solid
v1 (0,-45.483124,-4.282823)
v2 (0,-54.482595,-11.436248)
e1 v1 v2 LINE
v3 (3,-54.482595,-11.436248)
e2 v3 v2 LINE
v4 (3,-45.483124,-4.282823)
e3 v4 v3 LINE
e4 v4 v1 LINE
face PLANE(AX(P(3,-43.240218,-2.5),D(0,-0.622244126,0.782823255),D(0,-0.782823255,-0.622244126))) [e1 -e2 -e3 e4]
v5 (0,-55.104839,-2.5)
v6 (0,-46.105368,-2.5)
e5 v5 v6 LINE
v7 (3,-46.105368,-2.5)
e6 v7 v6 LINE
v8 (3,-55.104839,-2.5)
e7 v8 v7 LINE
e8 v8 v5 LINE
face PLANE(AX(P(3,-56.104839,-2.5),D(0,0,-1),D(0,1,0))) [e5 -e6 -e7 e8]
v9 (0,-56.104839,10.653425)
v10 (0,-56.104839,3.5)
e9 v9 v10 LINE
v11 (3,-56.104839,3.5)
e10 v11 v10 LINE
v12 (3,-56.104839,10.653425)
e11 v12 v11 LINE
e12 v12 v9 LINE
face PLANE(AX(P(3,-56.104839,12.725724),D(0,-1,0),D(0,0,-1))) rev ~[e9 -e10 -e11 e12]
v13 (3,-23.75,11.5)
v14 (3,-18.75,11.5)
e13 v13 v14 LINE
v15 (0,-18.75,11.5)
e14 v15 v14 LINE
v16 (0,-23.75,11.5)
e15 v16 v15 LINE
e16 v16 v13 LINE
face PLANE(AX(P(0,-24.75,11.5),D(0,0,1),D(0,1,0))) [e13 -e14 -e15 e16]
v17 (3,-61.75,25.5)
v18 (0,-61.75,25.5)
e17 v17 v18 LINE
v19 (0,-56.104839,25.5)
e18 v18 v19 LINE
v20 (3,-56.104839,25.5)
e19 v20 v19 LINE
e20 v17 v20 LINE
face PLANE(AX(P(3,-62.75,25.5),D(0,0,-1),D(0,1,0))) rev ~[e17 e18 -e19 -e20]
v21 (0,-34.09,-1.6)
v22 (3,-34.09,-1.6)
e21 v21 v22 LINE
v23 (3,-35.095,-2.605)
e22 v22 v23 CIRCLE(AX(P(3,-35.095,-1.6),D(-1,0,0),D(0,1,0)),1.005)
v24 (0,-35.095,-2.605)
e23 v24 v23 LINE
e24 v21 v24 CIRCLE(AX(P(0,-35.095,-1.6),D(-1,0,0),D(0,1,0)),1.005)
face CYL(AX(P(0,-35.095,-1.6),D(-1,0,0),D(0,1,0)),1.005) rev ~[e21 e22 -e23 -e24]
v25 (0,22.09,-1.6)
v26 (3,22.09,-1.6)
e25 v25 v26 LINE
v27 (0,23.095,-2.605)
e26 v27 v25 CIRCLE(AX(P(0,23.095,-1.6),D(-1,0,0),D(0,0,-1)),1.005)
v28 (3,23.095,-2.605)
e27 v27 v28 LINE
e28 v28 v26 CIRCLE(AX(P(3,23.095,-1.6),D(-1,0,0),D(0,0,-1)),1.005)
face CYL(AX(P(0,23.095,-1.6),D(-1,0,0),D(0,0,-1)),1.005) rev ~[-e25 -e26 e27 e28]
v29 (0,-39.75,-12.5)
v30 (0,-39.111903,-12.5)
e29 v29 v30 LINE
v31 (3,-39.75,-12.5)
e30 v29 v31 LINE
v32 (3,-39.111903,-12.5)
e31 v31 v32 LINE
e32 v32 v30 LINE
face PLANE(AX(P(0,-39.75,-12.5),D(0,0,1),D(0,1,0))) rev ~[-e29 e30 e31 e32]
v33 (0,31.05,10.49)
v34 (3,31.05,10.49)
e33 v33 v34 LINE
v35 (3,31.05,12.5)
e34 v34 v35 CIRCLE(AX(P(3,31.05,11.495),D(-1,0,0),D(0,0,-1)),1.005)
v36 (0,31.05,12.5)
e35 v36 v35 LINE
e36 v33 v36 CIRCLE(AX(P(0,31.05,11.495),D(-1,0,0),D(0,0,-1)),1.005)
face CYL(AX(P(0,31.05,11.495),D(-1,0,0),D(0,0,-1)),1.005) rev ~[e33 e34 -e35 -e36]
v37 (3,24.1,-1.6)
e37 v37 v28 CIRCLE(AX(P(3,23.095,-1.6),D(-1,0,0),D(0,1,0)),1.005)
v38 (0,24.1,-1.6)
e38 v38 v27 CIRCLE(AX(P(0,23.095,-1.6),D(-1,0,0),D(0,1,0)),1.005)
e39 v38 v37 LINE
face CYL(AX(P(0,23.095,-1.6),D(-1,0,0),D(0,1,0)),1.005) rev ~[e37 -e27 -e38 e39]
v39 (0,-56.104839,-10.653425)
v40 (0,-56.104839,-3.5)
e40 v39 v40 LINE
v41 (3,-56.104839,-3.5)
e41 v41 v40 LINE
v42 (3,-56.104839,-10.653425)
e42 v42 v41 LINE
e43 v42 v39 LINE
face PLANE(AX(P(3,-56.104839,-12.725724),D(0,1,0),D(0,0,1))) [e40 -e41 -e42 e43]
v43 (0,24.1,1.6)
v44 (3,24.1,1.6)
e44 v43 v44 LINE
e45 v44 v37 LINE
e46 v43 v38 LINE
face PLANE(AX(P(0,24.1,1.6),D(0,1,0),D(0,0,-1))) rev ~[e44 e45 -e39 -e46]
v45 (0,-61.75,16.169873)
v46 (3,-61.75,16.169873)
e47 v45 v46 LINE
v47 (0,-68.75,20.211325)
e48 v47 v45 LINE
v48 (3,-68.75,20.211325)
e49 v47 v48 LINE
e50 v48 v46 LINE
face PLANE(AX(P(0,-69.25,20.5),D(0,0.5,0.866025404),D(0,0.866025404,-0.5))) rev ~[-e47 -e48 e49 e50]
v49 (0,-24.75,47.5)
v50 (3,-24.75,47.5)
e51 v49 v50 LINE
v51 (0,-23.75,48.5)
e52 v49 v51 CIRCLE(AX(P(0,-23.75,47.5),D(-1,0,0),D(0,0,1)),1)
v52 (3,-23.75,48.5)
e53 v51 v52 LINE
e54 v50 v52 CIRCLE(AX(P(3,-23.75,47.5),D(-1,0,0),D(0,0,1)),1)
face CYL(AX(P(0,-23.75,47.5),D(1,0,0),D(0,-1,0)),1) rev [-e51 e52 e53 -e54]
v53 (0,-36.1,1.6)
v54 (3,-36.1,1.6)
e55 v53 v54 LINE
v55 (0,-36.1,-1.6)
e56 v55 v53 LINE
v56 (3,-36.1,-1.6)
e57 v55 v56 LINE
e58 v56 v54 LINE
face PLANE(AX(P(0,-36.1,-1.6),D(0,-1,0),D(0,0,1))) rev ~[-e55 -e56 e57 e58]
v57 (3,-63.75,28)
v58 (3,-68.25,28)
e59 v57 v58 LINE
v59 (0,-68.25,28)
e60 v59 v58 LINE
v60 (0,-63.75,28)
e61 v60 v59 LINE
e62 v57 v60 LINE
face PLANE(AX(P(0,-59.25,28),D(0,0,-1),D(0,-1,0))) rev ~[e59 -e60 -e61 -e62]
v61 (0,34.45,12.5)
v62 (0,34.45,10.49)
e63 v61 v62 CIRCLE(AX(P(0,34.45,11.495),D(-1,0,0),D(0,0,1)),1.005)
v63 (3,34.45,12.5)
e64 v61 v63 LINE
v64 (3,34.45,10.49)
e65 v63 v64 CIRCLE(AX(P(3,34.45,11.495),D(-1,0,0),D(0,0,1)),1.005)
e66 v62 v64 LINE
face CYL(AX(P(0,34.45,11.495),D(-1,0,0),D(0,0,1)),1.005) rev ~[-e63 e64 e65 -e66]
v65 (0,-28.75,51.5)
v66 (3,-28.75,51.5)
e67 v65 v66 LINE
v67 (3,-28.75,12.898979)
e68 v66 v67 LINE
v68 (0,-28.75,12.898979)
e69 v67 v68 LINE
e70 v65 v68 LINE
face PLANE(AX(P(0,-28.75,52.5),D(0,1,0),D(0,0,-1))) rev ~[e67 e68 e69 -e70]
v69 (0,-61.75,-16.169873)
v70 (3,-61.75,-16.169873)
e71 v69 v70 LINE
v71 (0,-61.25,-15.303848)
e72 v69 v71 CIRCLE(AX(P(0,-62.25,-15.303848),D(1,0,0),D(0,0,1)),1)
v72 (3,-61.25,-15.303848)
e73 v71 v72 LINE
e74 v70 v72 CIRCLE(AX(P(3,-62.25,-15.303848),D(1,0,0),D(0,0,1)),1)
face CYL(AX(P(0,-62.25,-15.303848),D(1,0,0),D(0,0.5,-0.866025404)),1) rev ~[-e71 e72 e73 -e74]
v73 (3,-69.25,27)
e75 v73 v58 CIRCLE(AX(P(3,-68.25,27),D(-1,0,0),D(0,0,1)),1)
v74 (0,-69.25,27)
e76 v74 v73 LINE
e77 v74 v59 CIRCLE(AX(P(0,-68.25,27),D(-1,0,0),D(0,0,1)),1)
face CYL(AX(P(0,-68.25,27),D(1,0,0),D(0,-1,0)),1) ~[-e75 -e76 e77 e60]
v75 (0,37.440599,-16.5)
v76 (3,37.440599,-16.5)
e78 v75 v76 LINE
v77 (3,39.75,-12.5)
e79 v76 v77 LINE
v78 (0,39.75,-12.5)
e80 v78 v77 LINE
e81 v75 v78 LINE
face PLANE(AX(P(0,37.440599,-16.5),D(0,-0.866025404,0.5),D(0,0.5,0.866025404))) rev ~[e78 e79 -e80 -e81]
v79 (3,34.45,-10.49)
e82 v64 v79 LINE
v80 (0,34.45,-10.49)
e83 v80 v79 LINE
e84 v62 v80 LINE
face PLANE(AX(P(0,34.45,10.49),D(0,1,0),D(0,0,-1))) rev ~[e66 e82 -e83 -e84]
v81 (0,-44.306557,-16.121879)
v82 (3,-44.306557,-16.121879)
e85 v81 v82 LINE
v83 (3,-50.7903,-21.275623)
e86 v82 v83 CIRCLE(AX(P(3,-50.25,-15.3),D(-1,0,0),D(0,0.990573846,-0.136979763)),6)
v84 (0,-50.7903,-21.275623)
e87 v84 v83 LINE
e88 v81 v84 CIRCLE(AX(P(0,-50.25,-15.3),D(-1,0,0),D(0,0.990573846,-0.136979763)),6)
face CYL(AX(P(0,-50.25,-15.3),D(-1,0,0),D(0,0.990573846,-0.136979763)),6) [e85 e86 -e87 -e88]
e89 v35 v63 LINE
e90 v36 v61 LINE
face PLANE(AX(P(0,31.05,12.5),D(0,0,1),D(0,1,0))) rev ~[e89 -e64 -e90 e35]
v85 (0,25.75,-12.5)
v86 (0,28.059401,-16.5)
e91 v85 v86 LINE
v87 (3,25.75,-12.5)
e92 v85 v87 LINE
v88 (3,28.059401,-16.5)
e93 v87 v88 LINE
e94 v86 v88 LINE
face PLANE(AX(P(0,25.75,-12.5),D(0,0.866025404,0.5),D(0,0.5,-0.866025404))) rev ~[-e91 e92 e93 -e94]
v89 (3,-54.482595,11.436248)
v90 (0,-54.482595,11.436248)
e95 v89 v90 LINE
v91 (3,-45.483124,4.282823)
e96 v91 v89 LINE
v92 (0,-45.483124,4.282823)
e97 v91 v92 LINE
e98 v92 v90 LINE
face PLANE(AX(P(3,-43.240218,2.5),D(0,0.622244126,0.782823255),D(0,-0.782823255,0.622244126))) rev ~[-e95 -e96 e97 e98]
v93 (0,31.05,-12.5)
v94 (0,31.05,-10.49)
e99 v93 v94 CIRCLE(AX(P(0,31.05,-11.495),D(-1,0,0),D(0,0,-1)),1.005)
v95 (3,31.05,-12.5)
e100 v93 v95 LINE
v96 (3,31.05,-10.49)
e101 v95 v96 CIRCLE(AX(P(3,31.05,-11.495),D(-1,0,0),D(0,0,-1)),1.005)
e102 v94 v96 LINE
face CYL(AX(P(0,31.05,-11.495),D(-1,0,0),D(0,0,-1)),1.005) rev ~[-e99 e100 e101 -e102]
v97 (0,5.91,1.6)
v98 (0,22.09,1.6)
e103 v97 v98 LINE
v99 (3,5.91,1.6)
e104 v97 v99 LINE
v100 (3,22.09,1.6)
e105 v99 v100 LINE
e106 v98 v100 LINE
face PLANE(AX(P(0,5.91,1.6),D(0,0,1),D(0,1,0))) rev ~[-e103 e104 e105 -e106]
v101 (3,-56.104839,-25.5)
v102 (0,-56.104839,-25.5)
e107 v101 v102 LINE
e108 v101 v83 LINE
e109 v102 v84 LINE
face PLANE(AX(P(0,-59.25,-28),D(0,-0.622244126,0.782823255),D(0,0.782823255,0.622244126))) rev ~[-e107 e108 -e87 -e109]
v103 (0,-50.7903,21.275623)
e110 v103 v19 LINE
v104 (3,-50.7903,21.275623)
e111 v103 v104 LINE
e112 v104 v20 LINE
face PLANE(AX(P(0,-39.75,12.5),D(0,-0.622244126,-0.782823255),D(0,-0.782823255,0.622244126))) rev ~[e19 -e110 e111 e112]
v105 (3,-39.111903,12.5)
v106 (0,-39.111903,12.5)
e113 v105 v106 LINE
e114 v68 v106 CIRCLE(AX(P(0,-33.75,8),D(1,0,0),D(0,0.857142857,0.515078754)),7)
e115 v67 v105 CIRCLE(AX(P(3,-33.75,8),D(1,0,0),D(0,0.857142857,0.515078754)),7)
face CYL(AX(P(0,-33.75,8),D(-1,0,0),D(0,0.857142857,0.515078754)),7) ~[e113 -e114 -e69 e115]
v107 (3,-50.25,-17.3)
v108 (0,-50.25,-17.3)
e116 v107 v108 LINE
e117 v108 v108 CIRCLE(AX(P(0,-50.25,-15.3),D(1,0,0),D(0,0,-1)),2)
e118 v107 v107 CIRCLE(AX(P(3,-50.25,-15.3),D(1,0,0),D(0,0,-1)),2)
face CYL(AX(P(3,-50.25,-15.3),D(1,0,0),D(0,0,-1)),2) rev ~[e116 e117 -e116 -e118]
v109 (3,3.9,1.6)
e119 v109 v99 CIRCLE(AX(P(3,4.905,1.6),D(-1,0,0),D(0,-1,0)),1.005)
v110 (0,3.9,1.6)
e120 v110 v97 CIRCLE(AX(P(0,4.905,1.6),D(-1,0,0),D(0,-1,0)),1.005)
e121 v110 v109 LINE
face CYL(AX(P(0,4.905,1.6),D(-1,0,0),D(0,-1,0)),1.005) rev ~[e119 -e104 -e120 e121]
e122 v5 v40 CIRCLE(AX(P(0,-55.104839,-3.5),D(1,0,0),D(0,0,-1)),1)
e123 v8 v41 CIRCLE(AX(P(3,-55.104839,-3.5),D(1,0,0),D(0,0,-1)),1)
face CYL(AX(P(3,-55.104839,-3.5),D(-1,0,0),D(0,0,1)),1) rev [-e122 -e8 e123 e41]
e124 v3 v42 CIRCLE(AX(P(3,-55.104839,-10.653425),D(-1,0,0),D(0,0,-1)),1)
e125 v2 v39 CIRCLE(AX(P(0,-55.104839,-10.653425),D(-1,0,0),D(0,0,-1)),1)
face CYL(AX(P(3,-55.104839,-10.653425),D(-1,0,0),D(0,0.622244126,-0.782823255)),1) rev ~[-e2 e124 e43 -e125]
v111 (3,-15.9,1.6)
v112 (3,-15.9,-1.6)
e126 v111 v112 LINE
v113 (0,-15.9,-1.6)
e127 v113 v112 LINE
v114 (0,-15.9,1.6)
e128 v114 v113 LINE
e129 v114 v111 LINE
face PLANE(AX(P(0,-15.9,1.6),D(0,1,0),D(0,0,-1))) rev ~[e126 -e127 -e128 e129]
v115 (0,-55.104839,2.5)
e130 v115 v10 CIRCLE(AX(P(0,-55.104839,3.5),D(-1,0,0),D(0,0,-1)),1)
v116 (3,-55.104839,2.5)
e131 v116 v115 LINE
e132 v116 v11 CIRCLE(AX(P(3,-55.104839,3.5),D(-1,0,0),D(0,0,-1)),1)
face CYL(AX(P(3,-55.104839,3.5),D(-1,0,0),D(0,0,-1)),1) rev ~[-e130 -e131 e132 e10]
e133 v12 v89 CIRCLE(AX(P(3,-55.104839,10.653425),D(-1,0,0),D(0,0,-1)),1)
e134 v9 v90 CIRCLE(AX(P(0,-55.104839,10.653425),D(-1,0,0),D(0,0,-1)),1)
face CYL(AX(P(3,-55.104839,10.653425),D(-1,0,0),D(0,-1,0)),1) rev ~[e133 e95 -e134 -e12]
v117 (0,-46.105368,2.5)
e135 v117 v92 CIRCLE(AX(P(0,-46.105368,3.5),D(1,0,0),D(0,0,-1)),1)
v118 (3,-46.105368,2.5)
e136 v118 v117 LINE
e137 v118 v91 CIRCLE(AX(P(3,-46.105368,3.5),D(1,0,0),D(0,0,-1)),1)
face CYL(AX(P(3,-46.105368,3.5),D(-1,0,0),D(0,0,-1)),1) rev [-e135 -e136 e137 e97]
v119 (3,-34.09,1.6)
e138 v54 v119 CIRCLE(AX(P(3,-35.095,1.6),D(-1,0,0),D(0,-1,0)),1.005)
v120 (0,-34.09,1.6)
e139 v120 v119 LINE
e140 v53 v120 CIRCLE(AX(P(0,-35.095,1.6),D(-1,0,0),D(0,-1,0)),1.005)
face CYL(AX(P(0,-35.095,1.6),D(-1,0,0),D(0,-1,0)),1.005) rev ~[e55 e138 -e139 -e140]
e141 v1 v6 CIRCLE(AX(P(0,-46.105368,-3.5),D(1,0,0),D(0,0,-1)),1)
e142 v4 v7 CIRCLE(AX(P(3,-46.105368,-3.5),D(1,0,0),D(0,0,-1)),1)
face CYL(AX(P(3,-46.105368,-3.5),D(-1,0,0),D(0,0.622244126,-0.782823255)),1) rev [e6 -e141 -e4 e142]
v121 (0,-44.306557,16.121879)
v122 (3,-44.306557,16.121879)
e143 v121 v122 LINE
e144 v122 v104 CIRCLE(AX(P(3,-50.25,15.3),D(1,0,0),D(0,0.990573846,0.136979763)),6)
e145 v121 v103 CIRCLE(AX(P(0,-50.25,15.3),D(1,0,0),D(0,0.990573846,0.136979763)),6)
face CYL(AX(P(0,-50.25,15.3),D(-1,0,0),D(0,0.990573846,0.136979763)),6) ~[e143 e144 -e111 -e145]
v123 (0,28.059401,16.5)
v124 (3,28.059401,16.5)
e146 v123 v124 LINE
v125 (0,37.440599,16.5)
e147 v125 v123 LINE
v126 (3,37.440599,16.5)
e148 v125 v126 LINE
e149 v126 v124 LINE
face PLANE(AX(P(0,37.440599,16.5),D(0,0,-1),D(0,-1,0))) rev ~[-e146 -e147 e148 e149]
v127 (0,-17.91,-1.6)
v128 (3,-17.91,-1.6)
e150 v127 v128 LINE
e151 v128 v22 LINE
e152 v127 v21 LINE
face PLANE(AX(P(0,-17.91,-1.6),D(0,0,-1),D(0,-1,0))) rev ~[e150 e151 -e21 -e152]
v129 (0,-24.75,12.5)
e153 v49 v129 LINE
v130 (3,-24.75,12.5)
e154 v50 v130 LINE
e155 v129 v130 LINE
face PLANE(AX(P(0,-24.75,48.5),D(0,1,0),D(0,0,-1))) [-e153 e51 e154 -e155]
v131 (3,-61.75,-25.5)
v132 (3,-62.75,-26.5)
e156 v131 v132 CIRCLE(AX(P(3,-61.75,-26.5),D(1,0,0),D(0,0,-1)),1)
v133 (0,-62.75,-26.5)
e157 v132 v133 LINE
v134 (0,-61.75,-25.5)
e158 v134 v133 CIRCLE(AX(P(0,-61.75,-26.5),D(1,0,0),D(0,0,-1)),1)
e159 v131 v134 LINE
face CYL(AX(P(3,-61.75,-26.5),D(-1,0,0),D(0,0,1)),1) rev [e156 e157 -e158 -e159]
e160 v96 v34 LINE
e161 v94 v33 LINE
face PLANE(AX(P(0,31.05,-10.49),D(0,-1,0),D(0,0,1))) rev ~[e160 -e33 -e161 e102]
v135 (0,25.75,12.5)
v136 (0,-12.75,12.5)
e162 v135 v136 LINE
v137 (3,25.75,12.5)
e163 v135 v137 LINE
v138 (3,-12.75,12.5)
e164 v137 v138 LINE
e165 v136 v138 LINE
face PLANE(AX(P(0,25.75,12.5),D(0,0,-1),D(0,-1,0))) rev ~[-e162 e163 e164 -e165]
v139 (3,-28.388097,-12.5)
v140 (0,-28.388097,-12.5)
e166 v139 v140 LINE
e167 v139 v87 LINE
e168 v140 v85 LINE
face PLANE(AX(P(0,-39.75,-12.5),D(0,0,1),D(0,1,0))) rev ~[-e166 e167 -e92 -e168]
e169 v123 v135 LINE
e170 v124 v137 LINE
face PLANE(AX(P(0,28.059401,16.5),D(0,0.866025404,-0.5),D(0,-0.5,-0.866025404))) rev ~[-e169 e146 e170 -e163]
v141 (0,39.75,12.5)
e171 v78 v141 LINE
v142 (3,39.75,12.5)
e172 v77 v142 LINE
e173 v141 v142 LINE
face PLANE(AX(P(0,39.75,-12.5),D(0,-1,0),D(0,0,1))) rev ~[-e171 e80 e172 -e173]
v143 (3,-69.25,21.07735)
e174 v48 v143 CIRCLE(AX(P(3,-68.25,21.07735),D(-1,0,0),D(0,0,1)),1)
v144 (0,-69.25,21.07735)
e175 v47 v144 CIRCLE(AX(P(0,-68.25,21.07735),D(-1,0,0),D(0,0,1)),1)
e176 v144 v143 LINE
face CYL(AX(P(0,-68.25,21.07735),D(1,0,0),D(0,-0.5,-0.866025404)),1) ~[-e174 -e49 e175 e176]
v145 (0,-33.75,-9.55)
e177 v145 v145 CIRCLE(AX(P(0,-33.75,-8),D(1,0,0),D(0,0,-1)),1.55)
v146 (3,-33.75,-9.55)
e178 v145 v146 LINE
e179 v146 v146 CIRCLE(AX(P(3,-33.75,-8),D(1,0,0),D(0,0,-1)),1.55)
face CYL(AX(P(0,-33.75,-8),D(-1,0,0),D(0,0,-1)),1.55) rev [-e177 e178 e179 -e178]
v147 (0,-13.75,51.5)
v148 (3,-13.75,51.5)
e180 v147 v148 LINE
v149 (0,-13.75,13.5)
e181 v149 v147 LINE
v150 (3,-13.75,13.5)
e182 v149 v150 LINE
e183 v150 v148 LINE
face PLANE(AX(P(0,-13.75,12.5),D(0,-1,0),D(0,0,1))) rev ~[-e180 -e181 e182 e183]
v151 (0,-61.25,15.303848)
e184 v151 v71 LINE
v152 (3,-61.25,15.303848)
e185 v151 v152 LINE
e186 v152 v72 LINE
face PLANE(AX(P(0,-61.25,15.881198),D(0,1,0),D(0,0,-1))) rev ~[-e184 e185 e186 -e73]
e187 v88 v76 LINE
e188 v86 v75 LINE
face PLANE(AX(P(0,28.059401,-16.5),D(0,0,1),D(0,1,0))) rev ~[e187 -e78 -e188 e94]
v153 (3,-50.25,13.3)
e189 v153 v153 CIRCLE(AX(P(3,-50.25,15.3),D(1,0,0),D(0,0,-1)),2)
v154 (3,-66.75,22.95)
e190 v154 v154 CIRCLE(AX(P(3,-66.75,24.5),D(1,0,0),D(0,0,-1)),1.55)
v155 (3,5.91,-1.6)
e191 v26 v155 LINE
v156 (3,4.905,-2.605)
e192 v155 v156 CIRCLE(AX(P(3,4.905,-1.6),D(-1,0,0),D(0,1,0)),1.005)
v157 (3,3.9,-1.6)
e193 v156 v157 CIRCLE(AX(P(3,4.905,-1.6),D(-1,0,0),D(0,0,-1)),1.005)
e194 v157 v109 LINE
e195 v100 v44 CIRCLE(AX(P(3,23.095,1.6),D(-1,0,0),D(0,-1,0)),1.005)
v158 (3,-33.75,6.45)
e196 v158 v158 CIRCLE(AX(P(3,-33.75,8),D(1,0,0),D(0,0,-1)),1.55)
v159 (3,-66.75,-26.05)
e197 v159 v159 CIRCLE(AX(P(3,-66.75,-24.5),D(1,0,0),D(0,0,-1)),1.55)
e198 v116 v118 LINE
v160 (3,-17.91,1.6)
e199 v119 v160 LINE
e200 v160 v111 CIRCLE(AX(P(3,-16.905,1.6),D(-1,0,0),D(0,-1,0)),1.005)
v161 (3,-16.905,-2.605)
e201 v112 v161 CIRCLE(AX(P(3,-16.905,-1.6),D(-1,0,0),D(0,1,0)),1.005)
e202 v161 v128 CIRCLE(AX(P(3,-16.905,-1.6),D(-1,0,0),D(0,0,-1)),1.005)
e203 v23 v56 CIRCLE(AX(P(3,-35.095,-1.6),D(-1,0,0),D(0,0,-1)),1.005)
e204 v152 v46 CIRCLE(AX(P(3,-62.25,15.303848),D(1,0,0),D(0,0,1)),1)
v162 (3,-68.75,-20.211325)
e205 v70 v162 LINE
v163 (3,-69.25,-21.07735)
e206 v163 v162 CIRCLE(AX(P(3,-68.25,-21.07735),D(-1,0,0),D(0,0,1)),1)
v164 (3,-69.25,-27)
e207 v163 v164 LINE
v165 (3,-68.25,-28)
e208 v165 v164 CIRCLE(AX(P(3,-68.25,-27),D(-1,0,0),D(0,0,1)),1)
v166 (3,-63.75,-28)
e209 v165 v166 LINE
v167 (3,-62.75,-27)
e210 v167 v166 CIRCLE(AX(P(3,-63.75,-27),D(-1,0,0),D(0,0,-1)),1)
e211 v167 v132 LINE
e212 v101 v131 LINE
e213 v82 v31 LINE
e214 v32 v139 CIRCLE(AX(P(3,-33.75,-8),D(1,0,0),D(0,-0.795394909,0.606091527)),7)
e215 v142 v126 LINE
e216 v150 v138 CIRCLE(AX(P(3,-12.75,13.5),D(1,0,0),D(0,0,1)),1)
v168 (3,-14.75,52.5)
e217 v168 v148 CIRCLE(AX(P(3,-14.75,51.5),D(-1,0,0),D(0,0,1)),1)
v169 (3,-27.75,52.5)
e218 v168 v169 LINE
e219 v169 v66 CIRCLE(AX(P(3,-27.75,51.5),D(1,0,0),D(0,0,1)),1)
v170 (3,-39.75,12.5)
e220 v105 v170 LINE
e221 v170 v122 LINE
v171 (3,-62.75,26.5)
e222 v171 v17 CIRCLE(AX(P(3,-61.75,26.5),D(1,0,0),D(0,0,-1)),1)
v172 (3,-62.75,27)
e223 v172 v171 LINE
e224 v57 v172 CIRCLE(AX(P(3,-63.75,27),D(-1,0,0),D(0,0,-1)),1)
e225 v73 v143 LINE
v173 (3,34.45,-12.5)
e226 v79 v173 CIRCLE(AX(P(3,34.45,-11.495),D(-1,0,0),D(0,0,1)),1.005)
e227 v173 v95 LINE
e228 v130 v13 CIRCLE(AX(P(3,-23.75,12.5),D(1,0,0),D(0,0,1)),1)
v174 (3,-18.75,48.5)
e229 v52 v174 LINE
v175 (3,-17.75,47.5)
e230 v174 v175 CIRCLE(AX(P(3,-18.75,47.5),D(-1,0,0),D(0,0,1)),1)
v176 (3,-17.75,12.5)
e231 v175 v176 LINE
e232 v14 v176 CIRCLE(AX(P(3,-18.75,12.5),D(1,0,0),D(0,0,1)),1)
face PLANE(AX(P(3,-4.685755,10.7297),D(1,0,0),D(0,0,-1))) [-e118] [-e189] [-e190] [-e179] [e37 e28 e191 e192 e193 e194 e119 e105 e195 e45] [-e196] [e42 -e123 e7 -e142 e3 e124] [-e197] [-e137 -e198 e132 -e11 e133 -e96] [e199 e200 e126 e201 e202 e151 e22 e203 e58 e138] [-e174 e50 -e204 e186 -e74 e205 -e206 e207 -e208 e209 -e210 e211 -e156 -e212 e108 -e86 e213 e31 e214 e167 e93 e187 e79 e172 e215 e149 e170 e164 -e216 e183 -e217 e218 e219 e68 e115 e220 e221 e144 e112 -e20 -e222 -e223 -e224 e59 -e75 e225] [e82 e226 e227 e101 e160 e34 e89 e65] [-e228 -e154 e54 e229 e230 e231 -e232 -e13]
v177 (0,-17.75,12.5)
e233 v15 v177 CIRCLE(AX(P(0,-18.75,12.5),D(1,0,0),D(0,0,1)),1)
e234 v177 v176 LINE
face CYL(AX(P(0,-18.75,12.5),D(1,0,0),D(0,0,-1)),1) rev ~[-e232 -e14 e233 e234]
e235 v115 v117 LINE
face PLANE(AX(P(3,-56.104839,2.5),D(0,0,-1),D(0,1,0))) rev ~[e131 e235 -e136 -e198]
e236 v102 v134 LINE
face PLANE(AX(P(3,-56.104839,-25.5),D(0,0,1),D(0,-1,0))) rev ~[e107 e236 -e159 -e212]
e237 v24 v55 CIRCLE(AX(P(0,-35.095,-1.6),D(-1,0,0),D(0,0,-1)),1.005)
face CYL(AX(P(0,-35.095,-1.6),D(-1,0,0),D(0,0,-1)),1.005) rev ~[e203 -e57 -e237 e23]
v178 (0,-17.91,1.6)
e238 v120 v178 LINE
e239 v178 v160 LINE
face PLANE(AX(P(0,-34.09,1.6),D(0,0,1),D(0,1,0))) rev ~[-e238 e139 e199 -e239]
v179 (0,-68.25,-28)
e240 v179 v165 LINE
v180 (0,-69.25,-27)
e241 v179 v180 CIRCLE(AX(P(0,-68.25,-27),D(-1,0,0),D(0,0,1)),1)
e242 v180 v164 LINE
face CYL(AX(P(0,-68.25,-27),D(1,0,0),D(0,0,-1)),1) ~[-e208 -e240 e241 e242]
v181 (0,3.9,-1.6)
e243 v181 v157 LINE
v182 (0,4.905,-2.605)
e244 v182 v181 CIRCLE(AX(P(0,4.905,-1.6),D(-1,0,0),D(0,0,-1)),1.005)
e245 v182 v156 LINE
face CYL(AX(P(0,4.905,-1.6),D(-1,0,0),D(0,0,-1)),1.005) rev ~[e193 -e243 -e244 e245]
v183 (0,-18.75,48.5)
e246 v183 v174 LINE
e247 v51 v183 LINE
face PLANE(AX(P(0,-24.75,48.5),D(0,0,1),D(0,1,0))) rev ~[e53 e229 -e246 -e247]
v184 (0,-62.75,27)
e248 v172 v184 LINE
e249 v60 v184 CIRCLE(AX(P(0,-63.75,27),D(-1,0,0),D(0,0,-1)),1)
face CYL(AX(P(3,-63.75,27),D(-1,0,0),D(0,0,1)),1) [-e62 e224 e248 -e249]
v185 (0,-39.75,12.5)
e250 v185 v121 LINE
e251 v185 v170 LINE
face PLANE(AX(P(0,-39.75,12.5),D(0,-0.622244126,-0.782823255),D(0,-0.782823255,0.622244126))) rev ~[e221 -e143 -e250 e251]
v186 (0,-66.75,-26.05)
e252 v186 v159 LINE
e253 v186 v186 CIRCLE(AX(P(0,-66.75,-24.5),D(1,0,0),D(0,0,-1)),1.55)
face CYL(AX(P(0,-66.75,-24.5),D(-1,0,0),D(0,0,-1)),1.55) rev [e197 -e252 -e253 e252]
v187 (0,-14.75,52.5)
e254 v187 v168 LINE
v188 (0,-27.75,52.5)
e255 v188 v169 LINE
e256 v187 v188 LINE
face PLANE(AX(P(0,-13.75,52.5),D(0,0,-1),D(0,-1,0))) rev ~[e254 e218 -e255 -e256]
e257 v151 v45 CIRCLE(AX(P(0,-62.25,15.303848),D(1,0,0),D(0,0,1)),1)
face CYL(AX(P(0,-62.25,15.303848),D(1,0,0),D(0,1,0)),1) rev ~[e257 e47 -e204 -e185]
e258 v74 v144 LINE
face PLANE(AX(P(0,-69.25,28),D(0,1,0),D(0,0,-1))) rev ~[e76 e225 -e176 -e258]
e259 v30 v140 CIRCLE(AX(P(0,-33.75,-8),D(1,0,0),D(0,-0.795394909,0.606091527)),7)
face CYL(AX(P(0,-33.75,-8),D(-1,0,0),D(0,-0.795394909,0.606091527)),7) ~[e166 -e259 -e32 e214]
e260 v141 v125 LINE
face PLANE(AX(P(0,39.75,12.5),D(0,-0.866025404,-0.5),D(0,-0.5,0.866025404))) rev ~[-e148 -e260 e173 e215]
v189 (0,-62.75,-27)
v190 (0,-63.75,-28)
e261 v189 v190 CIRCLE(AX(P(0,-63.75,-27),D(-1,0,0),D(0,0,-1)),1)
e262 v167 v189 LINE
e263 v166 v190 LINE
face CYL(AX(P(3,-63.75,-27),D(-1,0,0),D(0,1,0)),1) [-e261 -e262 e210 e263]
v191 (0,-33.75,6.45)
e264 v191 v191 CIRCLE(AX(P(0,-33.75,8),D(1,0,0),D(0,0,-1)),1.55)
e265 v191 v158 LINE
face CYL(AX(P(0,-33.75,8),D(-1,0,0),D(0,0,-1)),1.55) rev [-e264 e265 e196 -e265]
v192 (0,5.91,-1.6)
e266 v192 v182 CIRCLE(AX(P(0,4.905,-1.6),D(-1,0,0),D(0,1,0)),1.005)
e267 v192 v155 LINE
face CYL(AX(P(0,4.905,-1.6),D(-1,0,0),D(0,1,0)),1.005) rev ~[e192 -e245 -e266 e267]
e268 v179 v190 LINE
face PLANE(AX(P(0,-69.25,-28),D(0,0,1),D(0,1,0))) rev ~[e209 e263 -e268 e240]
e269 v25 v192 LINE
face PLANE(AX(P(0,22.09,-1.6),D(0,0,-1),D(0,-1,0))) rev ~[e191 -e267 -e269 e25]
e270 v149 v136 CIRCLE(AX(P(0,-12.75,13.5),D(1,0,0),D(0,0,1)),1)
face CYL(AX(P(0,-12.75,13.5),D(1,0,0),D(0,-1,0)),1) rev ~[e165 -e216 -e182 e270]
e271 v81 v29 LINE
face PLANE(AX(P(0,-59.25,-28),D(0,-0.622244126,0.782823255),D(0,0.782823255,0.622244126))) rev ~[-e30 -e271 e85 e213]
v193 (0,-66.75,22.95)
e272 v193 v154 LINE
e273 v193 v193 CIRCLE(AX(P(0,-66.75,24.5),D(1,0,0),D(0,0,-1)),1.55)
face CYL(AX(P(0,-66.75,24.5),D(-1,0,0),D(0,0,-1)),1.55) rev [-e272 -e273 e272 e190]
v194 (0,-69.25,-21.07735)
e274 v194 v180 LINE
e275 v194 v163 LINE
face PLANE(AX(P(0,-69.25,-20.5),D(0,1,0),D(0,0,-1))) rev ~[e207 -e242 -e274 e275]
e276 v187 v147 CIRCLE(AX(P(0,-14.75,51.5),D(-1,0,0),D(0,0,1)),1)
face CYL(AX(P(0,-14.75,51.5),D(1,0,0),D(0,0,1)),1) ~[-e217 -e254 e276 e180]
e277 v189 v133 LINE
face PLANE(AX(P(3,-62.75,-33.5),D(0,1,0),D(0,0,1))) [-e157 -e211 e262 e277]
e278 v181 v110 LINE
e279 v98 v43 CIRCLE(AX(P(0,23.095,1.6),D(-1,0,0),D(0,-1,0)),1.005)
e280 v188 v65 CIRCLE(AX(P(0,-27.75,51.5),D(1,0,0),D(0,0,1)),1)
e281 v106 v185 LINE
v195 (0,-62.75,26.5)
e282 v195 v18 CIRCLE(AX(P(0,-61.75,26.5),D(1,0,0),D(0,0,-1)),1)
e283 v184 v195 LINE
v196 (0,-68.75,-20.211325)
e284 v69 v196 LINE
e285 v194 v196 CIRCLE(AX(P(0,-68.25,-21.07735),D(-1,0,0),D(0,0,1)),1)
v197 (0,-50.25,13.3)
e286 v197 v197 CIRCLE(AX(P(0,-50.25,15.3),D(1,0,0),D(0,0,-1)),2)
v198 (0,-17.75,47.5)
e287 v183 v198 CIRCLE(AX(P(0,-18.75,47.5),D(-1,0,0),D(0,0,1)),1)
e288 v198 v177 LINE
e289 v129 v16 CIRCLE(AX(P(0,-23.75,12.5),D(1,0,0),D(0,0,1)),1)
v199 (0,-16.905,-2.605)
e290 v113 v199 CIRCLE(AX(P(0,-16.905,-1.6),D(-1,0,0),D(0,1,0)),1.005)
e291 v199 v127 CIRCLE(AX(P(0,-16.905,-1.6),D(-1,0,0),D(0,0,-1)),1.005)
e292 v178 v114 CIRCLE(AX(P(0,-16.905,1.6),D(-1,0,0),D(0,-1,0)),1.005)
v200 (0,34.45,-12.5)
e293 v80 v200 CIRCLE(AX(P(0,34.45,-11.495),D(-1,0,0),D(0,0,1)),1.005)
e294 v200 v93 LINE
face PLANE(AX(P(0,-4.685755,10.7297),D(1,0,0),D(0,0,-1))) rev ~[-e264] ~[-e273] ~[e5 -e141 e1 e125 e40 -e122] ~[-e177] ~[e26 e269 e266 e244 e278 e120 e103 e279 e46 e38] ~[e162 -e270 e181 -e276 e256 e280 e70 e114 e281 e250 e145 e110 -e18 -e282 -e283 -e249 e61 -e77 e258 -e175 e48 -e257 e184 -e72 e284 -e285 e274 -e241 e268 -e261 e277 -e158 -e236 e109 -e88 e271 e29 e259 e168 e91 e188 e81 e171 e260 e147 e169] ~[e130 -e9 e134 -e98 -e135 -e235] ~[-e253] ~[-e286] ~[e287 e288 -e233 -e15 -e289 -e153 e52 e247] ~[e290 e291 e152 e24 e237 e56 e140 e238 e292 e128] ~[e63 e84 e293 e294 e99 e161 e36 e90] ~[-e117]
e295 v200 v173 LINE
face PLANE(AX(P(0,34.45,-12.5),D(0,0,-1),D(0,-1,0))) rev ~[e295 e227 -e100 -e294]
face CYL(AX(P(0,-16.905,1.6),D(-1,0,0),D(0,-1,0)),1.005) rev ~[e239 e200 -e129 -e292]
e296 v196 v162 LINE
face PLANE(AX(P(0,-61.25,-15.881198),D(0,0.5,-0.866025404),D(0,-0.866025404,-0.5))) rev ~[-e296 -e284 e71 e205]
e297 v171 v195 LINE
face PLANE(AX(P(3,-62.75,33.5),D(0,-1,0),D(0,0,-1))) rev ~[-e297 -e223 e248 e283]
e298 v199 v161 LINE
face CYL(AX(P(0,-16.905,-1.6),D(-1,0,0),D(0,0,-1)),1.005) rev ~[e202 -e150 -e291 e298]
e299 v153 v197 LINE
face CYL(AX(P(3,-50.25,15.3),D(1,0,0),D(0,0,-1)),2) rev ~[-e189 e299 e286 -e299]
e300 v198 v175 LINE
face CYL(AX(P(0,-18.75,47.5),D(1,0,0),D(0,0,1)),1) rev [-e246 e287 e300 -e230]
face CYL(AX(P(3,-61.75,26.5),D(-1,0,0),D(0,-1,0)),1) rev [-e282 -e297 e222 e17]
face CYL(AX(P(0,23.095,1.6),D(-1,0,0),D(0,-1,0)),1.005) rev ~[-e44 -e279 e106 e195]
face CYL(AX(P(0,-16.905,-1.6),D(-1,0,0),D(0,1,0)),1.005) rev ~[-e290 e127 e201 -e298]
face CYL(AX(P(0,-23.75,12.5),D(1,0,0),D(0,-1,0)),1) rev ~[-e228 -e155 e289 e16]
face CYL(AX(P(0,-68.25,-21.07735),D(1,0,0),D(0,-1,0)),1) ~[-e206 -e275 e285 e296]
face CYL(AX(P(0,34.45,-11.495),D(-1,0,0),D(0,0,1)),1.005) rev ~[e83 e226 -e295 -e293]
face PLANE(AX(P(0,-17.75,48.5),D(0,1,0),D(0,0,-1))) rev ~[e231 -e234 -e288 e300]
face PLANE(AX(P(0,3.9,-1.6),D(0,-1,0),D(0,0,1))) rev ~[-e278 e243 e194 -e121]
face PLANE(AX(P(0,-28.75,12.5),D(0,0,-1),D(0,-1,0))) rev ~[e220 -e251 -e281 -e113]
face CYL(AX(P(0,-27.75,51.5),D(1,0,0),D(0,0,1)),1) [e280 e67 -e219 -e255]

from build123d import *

# Parameters (mm, degrees)
SKETCH_1_R          = 1.55
SKETCH_1_W          = 37
SKETCH_1_H          = 7
EXTRUDE_1_DEPTH     = 3
SKETCH_2_R          = 2
CUT_EXTRUDE_1_DEPTH = 10
EXTRUDE_START       = -3
SKETCH_3_R          = 1.55
EXTRUDE_2_DEPTH     = 3
FILLET_1_R          = 1


with BuildPart() as part:
    # 草图1 → 凸台-拉伸1 (new body)
    # profile 1 of 2: a face of its own
    with BuildSketch(Plane(origin=(0, 0, 0), x_dir=(0, 0, -1), z_dir=(1, 0, 0))):
        Polygon((28, -59.25), (12.5, -39.75), (-12.5, -39.75), (-28, -59.25), (-28, -69.25), (-20.5, -69.25), (-15.881197846, -61.25), (15.881197846, -61.25), (20.5, -69.25), (28, -69.25), align=None)
        with Locations((-24.5, -66.75)):
            Circle(SKETCH_1_R, mode=Mode.SUBTRACT)
        with Locations((24.5, -66.75)):
            Circle(SKETCH_1_R, mode=Mode.SUBTRACT)
    # profile 2 of 2: a face of its own
    with BuildSketch(Plane(origin=(0, 0, 0), x_dir=(0, 0, -1), z_dir=(1, 0, 0))):
        Polygon((-12.5, -39.75), (12.5, -39.75), (12.5, -28.75), (12.5, -13.75), (12.5, 25.75), (16.5, 28.059401077), (16.5, 37.440598923), (12.5, 39.75), (-12.5, 39.75), (-16.5, 37.440598923), (-16.5, 28.059401077), (-12.5, 25.75), (-12.5, -13.75), (-52.5, -13.75), (-52.5, -28.75), (-12.5, -28.75), align=None)
        with Locations((-30, -21.25)):
            Rectangle(SKETCH_1_W, SKETCH_1_H, mode=Mode.SUBTRACT)
        with Locations((-8, -33.75)):
            Circle(SKETCH_1_R, mode=Mode.SUBTRACT)
        with BuildLine():
            ThreePointArc((2.605, -35.095), (2.310642315, -35.805642315), (1.6, -36.1))
            Line((1.6, -36.1), (-1.6, -36.1))
            ThreePointArc((-1.6, -36.1), (-2.605, -35.095), (-1.6, -34.09))
            Line((-1.6, -34.09), (-1.6, -17.91))
            ThreePointArc((-1.6, -17.91), (-2.605, -16.905), (-1.6, -15.9))
            Line((-1.6, -15.9), (1.6, -15.9))
            ThreePointArc((1.6, -15.9), (2.310642315, -16.194357685), (2.605, -16.905))
            ThreePointArc((2.605, -16.905), (2.310642315, -17.615642315), (1.6, -17.91))
            Line((1.6, -17.91), (1.6, -34.09))
            ThreePointArc((1.6, -34.09), (2.310642315, -34.384357685), (2.605, -35.095))
        make_face(mode=Mode.SUBTRACT)
        with Locations((8, -33.75)):
            Circle(SKETCH_1_R, mode=Mode.SUBTRACT)
        with BuildLine():
            ThreePointArc((2.605, 4.905), (2.310642315, 4.194357685), (1.6, 3.9))
            Line((1.6, 3.9), (-1.6, 3.9))
            ThreePointArc((-1.6, 3.9), (-2.605, 4.905), (-1.6, 5.91))
            Line((-1.6, 5.91), (-1.6, 22.09))
            ThreePointArc((-1.6, 22.09), (-2.605, 23.095), (-1.6, 24.1))
            Line((-1.6, 24.1), (1.6, 24.1))
            ThreePointArc((1.6, 24.1), (2.310642315, 23.805642315), (2.605, 23.095))
            ThreePointArc((2.605, 23.095), (2.310642315, 22.384357685), (1.6, 22.09))
            Line((1.6, 22.09), (1.6, 5.91))
            ThreePointArc((1.6, 5.91), (2.310642315, 5.615642315), (2.605, 4.905))
        make_face(mode=Mode.SUBTRACT)
        with BuildLine():
            Line((10.49, 31.05), (-10.49, 31.05))
            ThreePointArc((-10.49, 31.05), (-11.495, 30.045), (-12.5, 31.05))
            Line((-12.5, 31.05), (-12.5, 34.45))
            ThreePointArc((-12.5, 34.45), (-11.495, 35.455), (-10.49, 34.45))
            Line((-10.49, 34.45), (10.49, 34.45))
            ThreePointArc((10.49, 34.45), (11.495, 35.455), (12.5, 34.45))
            Line((12.5, 34.45), (12.5, 31.05))
            ThreePointArc((12.5, 31.05), (11.495, 30.045), (10.49, 31.05))
        make_face(mode=Mode.SUBTRACT)
    extrude(amount=EXTRUDE_1_DEPTH)

    # 草图2 → 切除-拉伸1 (cut)
    with BuildSketch(Plane(origin=(3, 0, 0), x_dir=(0, 0, -1), z_dir=(1, 0, 0))):
        with Locations((15.3, -50.25)):
            Circle(SKETCH_2_R)
        with Locations((-15.3, -50.25)):
            Circle(SKETCH_2_R)
        Polygon((33.5, -57.75), (33.5, -62.75), (25.5, -62.75), (25.5, -57.75), (25.5, -56.10483871), (33.5, -56.10483871), align=None)
        Polygon((-33.5, -62.75), (-25.5, -62.75), (-25.5, -57.75), (-25.5, -56.10483871), (-33.5, -56.10483871), (-33.5, -57.75), align=None)
        Polygon((12.725724403, -56.10483871), (2.5, -56.10483871), (2.5, -43.240217687), align=None)
        Polygon((-2.5, -56.10483871), (-2.5, -43.240217687), (-12.725724403, -56.10483871), align=None)
    extrude(amount=-CUT_EXTRUDE_1_DEPTH, mode=Mode.SUBTRACT)

    # 草图3 → 凸台-拉伸2 (add)
    # profile 1 of 4: a face of its own
    with BuildSketch(Plane(origin=(3, 0, 0), x_dir=(0, 0, -1), z_dir=(1, 0, 0)).offset(EXTRUDE_START)):
        with BuildLine():
            Line((-3.757359313, -27.75), (-11.605551275, -27.75))
            ThreePointArc((-11.605551275, -27.75), (-13.792647393, -37.680042771), (-3.757359313, -39.317764363))
            Line((-3.757359313, -39.317764363), (-3.757359313, -27.75))
        make_face()
        with Locations((-8, -33.75)):
            Circle(SKETCH_3_R, mode=Mode.SUBTRACT)
    # profile 2 of 4: a face of its own
    with BuildSketch(Plane(origin=(3, 0, 0), x_dir=(0, 0, -1), z_dir=(1, 0, 0)).offset(EXTRUDE_START)):
        with BuildLine():
            Line((11.605551275, -27.75), (3.757359313, -27.75))
            Line((3.757359313, -27.75), (3.757359313, -39.317764363))
            ThreePointArc((3.757359313, -39.317764363), (13.792647393, -37.680042771), (11.605551275, -27.75))
        make_face()
        with Locations((8, -33.75)):
            Circle(SKETCH_3_R, mode=Mode.SUBTRACT)
    # profile 3 of 4: a face of its own
    with BuildSketch(Plane(origin=(3, 0, 0), x_dir=(0, 0, -1), z_dir=(1, 0, 0)).offset(EXTRUDE_START)):
        with BuildLine():
            Line((-21.275623434, -50.790300449), (-16.121878581, -44.306556924))
            ThreePointArc((-16.121878581, -44.306556924), (-19.996939529, -46.516535247), (-21.275623434, -50.790300449))
        make_face()
    # profile 4 of 4: a face of its own
    with BuildSketch(Plane(origin=(3, 0, 0), x_dir=(0, 0, -1), z_dir=(1, 0, 0)).offset(EXTRUDE_START)):
        with BuildLine():
            Line((21.275623434, -50.790300449), (16.121878581, -44.306556924))
            ThreePointArc((16.121878581, -44.306556924), (19.996939529, -46.516535247), (21.275623434, -50.790300449))
        make_face()
    extrude(amount=EXTRUDE_2_DEPTH)

    # 圆角1
    fillet_1_edges = [part.edges().sort_by_distance(p)[0] for p in [
        (1.5, -17.75, 48.5),
        (1.5, -24.75, 48.5),
        (1.5, -24.75, 11.5),
        (1.5, -17.75, 11.5),
        (1.5, -62.75, -25.5),
        (1.5, -62.75, -28),
        (1.5, -56.10483871, 12.725724403),
        (1.5, -43.240217687, 2.5),
        (1.5, -56.10483871, 2.5),
        (1.5, -62.75, 28),
        (1.5, -62.75, 25.5),
        (1.5, -43.240217687, -2.5),
        (1.5, -56.10483871, -12.725724403),
        (1.5, -56.10483871, -2.5),
        (1.5, -69.25, -28),
        (1.5, -69.25, -20.5),
        (1.5, -61.25, -15.881197846),
        (1.5, -61.25, 15.881197846),
        (1.5, -69.25, 20.5),
        (1.5, -69.25, 28),
        (1.5, -28.75, 52.5),
        (1.5, -13.75, 52.5),
        (1.5, -13.75, 12.5),
    ]]
    fillet(fillet_1_edges, radius=FILLET_1_R)


solid = part.part
